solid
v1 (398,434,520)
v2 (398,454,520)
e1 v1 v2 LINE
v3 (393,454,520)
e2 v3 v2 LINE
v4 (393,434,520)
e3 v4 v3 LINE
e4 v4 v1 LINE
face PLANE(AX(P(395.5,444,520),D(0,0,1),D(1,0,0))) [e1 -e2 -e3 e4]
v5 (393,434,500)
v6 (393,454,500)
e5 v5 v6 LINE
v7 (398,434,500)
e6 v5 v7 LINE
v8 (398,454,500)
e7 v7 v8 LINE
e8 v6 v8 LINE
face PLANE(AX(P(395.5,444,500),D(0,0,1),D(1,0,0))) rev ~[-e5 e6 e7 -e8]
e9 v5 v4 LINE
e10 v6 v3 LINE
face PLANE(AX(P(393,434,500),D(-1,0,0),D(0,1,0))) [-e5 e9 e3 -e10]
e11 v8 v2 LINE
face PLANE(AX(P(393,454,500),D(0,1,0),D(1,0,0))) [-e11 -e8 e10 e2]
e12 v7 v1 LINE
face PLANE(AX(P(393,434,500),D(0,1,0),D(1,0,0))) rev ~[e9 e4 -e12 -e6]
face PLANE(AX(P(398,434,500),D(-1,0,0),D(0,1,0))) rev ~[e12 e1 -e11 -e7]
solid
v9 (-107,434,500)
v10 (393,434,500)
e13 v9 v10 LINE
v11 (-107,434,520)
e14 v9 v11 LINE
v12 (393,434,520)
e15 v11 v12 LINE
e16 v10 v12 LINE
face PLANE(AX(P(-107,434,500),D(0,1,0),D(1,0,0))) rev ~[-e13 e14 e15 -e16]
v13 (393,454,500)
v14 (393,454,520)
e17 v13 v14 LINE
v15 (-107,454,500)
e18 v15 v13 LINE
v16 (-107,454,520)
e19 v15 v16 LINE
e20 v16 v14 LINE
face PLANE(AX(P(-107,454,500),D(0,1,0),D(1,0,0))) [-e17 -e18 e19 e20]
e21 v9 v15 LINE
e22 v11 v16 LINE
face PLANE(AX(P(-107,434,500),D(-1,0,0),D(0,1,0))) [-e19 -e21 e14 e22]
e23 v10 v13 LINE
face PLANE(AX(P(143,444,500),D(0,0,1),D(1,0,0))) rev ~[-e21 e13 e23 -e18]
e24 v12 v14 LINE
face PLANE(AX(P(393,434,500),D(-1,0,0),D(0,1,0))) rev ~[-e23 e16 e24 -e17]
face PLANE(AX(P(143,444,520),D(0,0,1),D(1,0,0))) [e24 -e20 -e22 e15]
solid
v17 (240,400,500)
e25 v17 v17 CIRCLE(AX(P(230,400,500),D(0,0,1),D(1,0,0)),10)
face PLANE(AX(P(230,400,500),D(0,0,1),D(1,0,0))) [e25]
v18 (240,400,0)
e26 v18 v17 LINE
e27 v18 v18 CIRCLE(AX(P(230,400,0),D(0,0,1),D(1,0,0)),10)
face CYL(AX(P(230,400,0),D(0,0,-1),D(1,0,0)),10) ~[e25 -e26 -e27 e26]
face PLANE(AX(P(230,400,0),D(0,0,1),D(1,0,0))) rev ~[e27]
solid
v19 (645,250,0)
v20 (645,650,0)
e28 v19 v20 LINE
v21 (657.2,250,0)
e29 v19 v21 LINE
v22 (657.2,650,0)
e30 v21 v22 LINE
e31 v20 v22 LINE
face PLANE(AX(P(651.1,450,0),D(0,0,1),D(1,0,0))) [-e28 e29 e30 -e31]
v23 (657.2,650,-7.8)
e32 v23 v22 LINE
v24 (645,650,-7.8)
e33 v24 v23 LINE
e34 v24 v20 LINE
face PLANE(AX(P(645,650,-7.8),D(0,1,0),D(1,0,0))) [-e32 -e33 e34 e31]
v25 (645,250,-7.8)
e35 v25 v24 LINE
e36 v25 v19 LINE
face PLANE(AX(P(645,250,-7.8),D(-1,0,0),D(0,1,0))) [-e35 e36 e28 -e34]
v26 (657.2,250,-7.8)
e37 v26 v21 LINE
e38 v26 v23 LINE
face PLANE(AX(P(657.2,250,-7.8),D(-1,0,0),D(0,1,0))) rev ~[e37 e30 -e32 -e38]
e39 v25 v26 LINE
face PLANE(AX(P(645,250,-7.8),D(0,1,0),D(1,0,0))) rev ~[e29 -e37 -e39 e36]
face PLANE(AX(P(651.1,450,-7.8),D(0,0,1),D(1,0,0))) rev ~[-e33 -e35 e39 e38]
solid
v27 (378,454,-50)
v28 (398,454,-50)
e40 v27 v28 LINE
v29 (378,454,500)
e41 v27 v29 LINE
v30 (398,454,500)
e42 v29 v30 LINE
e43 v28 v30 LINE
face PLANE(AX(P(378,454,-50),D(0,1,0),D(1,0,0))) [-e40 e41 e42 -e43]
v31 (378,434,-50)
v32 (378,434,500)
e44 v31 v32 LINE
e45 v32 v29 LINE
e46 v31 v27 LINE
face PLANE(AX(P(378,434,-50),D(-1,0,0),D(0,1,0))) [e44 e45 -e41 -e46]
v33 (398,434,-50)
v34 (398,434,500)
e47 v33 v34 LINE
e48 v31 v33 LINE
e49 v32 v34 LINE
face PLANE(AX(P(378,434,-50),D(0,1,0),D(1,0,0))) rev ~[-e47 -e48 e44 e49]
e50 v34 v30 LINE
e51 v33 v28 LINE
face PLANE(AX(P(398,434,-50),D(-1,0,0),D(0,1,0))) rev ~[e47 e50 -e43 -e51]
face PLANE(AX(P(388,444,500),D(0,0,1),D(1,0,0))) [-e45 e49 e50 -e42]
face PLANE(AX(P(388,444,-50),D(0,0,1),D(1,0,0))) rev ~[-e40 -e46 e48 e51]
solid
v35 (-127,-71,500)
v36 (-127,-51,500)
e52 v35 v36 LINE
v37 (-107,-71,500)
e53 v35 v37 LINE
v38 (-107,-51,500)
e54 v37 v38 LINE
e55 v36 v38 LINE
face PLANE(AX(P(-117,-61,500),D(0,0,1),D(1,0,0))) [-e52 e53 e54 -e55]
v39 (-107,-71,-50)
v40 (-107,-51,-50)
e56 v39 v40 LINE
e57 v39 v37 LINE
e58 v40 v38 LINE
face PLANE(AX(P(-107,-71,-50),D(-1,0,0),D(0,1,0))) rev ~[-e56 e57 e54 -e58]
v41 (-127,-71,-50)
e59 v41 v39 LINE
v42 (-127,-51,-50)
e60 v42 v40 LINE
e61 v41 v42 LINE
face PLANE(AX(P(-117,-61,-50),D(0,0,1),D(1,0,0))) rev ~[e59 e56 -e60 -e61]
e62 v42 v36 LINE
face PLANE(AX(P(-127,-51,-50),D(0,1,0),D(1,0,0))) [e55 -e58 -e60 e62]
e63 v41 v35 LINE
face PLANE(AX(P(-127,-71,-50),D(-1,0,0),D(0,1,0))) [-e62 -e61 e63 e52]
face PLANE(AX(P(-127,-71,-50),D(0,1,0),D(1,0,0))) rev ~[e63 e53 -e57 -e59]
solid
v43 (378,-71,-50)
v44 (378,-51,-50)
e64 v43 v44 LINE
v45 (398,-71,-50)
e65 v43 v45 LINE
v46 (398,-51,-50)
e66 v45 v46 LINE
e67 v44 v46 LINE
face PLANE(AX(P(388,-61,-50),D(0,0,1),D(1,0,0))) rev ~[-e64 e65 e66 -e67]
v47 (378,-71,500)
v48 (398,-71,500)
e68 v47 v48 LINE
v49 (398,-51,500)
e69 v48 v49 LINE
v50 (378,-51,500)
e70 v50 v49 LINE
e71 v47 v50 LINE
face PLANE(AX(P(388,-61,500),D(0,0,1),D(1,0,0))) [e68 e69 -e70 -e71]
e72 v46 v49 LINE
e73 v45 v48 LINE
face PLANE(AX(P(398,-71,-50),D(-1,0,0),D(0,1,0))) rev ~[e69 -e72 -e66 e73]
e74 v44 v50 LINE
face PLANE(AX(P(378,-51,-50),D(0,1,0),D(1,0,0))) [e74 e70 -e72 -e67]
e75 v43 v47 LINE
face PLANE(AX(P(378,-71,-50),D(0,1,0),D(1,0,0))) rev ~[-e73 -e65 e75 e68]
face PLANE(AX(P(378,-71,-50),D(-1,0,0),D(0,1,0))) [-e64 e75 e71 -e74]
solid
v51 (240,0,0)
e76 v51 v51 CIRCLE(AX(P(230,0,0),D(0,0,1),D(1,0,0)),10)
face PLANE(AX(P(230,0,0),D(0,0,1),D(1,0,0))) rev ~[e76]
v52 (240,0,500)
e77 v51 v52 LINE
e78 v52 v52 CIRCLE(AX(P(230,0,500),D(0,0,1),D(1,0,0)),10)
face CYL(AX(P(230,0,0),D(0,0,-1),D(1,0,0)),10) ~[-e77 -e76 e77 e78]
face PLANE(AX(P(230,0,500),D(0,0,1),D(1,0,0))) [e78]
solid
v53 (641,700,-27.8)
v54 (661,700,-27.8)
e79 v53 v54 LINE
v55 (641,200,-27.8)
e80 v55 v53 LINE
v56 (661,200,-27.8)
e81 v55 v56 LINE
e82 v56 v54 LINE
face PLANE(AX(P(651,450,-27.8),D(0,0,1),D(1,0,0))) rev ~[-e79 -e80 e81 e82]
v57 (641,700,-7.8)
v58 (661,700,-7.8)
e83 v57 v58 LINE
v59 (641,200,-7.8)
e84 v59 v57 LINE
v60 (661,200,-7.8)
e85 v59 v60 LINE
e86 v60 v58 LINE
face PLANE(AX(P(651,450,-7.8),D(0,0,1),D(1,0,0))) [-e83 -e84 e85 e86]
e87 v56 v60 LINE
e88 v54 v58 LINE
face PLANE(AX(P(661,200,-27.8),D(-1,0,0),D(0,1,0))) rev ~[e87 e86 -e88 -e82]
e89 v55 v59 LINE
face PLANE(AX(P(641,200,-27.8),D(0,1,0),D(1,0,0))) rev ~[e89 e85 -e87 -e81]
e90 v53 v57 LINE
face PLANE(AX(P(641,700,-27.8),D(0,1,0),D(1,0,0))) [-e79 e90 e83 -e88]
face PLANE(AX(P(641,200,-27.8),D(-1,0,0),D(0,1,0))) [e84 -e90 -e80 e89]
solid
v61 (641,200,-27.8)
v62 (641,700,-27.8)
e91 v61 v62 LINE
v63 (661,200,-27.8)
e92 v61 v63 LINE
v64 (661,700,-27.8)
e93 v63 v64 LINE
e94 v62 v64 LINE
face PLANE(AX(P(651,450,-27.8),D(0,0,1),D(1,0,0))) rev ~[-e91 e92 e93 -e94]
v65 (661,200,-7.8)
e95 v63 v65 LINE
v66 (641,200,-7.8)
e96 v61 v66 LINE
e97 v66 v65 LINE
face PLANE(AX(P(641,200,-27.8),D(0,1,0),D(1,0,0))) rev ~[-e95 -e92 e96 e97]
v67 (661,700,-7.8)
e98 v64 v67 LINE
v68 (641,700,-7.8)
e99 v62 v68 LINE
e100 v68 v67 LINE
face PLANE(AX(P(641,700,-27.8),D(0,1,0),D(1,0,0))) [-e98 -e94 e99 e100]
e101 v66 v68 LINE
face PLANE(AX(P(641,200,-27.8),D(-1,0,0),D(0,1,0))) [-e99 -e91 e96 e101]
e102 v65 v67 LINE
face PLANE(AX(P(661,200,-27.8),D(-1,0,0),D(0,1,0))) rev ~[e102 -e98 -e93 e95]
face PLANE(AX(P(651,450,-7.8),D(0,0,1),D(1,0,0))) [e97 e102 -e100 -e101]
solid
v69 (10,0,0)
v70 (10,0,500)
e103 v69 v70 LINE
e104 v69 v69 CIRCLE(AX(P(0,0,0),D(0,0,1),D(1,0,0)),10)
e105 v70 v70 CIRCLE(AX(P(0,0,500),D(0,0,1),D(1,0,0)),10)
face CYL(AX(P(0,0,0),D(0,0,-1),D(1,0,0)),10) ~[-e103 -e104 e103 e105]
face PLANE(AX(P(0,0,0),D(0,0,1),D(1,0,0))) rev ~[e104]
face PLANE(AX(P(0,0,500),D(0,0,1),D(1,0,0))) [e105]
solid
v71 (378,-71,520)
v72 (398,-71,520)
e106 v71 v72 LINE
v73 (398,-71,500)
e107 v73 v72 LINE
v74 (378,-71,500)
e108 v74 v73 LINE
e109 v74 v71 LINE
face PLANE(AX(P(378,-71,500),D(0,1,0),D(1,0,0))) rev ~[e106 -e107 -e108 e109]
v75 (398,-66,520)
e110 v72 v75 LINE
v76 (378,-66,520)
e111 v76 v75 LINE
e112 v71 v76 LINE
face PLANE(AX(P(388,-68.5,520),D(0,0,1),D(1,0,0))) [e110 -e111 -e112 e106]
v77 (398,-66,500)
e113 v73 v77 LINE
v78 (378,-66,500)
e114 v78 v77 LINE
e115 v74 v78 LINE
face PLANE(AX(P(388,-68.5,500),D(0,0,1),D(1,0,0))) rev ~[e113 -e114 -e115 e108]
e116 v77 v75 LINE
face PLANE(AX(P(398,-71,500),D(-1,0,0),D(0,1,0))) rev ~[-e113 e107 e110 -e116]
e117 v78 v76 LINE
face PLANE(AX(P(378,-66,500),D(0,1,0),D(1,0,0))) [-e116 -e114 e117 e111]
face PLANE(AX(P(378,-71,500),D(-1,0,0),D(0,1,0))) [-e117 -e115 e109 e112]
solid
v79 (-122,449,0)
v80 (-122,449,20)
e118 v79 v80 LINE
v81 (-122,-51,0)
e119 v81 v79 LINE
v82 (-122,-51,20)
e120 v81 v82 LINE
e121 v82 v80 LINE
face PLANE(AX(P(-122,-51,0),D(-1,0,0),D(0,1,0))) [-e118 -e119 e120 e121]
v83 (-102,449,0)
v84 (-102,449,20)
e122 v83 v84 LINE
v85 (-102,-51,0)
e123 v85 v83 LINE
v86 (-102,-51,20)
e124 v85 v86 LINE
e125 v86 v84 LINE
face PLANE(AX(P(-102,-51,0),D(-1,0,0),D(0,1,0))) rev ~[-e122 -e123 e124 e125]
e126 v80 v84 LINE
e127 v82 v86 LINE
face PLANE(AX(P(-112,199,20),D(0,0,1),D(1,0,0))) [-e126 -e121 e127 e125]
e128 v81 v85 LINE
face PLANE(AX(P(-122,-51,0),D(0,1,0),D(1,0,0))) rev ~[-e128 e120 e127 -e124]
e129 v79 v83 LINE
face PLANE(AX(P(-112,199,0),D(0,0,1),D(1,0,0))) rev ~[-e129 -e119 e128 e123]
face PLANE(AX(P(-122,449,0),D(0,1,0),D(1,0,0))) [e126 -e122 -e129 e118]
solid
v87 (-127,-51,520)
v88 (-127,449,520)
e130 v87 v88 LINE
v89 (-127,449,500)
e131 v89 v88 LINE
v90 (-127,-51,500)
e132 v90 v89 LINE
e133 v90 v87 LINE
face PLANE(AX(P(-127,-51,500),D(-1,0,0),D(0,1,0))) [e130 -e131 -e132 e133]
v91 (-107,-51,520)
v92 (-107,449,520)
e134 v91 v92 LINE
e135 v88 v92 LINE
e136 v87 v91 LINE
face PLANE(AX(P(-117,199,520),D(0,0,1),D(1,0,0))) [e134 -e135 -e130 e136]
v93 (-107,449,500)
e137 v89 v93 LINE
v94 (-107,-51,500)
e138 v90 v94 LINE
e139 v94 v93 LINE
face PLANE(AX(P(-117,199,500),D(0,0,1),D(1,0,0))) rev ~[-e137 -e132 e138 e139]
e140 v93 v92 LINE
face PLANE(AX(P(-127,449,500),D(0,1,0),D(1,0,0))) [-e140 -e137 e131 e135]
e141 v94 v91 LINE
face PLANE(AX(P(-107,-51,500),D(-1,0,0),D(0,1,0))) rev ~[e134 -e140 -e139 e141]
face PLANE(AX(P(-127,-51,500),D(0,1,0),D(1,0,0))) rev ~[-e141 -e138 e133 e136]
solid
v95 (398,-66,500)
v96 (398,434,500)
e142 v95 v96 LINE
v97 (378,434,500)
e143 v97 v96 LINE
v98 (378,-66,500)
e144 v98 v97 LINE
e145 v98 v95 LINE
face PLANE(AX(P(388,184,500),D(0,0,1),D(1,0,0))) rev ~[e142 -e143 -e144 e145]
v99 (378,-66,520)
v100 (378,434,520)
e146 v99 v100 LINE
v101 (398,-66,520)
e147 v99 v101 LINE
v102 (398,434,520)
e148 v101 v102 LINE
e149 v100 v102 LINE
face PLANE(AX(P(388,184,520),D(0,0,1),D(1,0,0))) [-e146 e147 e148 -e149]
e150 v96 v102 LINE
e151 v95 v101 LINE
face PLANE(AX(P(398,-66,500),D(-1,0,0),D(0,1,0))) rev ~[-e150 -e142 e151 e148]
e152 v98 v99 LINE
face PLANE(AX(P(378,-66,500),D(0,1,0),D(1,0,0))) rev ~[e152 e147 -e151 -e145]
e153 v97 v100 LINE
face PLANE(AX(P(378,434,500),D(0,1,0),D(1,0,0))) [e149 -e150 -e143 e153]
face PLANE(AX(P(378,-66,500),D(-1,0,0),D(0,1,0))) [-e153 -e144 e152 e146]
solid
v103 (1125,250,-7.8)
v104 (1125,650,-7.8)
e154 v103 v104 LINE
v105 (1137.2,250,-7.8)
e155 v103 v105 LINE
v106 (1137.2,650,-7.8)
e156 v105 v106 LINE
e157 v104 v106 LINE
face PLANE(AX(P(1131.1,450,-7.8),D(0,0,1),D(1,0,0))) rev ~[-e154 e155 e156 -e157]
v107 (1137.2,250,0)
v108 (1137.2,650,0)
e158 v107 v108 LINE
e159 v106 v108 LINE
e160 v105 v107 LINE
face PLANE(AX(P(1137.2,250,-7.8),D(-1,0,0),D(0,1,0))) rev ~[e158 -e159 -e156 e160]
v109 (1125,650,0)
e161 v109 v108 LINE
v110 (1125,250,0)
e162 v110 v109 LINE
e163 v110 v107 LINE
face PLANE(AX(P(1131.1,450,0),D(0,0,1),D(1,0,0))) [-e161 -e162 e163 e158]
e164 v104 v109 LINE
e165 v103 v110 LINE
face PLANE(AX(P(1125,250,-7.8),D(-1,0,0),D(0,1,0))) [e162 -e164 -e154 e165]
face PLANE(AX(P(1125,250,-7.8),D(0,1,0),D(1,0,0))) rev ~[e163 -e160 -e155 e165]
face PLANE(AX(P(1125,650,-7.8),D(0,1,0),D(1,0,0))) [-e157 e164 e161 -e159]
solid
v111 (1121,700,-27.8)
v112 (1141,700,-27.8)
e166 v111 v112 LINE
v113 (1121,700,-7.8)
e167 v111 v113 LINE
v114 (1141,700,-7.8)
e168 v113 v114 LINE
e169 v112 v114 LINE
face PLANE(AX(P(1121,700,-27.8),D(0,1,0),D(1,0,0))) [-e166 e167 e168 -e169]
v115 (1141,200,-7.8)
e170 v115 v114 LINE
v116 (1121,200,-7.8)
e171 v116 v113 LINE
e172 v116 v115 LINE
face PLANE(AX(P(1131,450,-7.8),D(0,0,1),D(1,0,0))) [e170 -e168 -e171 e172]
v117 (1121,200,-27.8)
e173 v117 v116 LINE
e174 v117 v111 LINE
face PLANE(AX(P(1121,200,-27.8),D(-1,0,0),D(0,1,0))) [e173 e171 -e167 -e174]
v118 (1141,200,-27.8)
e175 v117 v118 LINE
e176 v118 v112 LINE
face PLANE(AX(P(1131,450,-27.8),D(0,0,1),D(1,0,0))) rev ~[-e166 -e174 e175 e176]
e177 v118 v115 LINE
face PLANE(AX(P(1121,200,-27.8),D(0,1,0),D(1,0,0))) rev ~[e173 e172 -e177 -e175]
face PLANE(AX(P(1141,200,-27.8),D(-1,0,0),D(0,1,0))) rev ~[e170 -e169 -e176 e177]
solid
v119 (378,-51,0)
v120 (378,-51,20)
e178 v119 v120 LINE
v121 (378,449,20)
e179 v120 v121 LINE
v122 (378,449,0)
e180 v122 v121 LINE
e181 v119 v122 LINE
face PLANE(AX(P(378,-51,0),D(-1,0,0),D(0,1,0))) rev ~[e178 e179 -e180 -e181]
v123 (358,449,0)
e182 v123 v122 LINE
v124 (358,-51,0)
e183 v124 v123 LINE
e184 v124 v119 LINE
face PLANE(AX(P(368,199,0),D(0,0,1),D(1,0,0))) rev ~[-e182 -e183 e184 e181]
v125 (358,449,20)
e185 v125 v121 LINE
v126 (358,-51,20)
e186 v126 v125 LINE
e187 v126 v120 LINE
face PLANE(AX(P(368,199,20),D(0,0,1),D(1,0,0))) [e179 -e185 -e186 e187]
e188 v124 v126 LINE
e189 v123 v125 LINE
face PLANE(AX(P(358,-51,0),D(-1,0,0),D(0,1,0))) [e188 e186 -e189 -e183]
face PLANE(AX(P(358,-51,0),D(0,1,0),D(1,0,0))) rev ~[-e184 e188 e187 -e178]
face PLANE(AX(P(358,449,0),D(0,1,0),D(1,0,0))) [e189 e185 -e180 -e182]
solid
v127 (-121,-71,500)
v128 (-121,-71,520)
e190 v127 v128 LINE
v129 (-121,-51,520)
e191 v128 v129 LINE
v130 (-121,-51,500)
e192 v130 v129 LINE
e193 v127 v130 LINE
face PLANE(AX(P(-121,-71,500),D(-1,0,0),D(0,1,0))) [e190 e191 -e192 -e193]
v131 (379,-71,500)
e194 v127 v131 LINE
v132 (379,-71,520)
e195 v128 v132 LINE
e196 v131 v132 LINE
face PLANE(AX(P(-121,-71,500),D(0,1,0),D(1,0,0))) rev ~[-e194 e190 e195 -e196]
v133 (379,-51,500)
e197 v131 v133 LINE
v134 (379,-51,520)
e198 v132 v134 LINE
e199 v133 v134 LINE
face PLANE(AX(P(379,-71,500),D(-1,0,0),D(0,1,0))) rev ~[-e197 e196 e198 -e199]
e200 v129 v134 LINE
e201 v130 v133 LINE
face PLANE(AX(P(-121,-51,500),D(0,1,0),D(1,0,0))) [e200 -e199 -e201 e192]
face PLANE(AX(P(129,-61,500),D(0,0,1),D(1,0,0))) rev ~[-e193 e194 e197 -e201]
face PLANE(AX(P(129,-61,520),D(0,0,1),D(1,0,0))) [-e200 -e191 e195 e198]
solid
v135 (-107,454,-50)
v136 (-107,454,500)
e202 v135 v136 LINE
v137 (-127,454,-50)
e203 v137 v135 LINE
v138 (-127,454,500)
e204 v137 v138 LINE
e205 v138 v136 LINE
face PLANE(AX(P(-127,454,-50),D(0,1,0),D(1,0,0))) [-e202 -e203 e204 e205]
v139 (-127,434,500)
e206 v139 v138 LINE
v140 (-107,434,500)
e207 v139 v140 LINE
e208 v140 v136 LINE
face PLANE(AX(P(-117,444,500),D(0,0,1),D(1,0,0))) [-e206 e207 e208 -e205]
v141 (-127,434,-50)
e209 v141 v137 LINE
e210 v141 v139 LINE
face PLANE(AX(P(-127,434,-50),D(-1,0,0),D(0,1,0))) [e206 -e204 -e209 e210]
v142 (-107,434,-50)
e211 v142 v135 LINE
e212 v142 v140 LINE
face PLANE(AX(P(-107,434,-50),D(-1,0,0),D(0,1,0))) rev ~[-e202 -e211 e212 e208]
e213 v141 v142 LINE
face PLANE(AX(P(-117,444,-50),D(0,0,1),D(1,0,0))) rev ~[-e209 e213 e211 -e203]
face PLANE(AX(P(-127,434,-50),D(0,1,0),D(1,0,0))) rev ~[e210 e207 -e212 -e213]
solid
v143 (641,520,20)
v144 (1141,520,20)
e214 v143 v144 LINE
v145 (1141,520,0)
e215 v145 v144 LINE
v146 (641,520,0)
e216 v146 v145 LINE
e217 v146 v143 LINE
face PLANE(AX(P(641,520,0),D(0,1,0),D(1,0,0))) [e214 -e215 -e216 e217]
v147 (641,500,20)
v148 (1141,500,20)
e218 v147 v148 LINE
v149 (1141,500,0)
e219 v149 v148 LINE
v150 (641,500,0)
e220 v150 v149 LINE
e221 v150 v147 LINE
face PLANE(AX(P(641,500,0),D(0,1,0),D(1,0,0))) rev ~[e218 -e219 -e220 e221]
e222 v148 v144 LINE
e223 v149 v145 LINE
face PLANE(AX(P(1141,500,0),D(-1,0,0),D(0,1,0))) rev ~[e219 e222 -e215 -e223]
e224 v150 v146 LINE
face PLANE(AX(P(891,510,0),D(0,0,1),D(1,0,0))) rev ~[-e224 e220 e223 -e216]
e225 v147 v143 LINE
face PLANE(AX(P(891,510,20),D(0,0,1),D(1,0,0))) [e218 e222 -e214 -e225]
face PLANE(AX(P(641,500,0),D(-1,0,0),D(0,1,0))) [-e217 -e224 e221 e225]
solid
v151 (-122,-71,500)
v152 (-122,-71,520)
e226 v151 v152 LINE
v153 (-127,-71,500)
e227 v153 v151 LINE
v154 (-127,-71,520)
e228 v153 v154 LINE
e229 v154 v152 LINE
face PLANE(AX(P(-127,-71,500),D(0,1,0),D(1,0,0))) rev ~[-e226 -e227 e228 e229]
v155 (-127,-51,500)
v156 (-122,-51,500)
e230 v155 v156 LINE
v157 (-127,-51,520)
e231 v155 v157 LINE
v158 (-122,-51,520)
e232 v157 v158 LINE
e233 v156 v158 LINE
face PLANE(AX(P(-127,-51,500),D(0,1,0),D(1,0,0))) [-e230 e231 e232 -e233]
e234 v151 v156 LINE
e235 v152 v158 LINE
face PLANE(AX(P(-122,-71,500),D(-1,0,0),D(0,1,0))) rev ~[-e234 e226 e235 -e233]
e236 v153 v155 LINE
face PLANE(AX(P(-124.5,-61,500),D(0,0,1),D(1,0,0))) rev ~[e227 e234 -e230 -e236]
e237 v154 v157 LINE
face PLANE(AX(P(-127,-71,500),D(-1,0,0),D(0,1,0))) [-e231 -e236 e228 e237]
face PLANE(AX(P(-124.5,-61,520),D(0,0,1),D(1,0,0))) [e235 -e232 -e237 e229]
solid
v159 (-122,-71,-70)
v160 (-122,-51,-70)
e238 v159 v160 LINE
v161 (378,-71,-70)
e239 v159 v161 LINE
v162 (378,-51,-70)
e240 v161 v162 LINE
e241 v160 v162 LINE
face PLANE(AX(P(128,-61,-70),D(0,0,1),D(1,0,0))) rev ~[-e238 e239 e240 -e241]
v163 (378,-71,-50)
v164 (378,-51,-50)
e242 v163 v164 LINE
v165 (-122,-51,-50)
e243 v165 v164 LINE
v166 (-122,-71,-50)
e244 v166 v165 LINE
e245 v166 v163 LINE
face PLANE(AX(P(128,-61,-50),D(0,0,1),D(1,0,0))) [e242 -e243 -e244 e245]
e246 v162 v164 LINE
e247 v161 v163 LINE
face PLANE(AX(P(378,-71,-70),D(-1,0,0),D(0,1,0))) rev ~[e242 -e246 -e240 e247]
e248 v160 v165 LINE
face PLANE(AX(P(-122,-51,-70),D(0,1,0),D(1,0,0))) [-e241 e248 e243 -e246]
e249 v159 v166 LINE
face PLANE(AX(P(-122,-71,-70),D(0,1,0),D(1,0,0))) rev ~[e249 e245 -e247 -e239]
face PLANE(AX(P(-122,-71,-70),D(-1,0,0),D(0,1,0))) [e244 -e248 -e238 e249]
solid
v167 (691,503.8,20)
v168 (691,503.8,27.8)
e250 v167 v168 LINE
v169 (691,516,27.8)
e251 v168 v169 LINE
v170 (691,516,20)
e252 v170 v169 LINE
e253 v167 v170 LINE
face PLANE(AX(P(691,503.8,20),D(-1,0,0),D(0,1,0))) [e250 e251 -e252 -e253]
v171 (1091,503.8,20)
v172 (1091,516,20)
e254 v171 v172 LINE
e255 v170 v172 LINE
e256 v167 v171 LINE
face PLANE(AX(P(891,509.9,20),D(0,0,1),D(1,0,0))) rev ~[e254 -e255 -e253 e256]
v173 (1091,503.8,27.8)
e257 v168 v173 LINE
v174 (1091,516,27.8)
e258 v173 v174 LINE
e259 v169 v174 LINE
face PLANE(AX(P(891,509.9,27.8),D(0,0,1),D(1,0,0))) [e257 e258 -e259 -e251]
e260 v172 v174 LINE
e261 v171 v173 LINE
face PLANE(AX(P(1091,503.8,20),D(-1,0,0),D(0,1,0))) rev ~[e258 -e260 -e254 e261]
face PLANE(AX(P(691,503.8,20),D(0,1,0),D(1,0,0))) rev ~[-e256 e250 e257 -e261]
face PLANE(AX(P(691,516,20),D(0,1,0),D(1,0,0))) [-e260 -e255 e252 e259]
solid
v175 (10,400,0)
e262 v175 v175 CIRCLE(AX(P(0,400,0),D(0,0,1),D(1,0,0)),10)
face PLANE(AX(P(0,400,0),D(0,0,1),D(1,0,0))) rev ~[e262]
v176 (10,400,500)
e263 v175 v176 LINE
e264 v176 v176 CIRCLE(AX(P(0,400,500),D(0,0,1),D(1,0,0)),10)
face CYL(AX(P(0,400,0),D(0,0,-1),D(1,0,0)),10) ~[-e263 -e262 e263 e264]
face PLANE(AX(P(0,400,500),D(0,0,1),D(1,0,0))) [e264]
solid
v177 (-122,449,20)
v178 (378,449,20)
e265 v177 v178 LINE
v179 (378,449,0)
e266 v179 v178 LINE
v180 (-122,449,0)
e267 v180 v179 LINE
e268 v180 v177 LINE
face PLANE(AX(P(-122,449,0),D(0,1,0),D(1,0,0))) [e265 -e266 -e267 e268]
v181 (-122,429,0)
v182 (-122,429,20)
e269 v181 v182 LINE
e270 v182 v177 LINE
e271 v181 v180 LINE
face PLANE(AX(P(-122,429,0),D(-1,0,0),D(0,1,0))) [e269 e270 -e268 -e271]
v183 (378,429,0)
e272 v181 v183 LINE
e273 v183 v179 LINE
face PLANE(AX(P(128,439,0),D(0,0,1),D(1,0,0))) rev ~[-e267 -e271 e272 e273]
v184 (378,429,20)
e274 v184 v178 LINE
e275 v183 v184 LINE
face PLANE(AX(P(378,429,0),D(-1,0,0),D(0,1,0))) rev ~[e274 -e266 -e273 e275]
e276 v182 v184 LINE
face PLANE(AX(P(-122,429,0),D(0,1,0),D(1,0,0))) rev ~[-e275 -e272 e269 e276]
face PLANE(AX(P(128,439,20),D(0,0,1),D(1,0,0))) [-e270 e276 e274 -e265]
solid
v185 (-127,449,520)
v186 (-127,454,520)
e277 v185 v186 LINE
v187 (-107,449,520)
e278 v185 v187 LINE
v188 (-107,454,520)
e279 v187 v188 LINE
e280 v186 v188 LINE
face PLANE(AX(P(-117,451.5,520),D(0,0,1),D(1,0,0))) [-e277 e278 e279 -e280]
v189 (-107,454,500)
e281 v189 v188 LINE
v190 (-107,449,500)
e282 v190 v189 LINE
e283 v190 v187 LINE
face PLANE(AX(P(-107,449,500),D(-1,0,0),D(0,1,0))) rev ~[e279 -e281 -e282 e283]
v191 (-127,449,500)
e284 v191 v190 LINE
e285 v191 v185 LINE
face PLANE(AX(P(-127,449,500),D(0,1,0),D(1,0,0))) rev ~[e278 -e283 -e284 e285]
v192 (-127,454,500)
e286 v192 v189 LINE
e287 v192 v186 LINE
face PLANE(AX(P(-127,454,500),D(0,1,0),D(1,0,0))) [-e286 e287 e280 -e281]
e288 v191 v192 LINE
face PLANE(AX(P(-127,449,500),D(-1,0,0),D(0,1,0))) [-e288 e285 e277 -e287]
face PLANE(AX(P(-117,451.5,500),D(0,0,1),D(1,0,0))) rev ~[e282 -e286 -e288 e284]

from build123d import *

# Parameters (mm, degrees)
CYLINDER_R        = 10
CYLINDER_DEPTH    = 500
CYLINDER001_R     = 10
CYLINDER001_DEPTH = 500
CYLINDER002_R     = 10
CYLINDER002_DEPTH = 500
CYLINDER003_R     = 10
CYLINDER003_DEPTH = 500
BOX_W             = 20
BOX_H             = 20
BOX_DEPTH         = 550
BOX001_W          = 500
BOX001_H          = 20
BOX001_DEPTH      = 20
BOX002_W          = 500
BOX002_H          = 20
BOX002_DEPTH      = 20
BOX003_W          = 20
BOX003_H          = 500
BOX003_DEPTH      = 20
BOX004_W          = 20
BOX004_H          = 500
BOX004_DEPTH      = 20
BOX005_W          = 20
BOX005_H          = 20
BOX005_DEPTH      = 550
BOX006_W          = 20
BOX006_H          = 20
BOX006_DEPTH      = 550
BOX007_W          = 20
BOX007_H          = 20
BOX007_DEPTH      = 550
BOX008_W          = 500
BOX008_H          = 20
BOX008_DEPTH      = 20
BOX009_W          = 500
BOX009_H          = 20
BOX009_DEPTH      = 20
BOX010_W          = 20
BOX010_H          = 500
BOX010_DEPTH      = 20
BOX011_W          = 20
BOX011_H          = 5
BOX011_DEPTH      = 20
BOX012_W          = 20
BOX012_H          = 500
BOX012_DEPTH      = 20
BOX013_W          = 20
BOX013_H          = 5
BOX013_DEPTH      = 20
BOX014_W          = 5
BOX014_H          = 20
BOX014_DEPTH      = 20
BOX015_W          = 5
BOX015_H          = 20
BOX015_DEPTH      = 20
BOX016_W          = 20
BOX016_H          = 500
BOX016_DEPTH      = 20
BOX017_W          = 20
BOX017_H          = 500
BOX017_DEPTH      = 20
BOX018_W          = 500
BOX018_H          = 20
BOX018_DEPTH      = 20
BOX019_W          = 400
BOX019_H          = 12.2
BOX019_DEPTH      = 7.8
BOX020_W          = 12.2
BOX020_H          = 400
BOX020_DEPTH      = 7.8
BOX021_W          = 12.2
BOX021_H          = 400
BOX021_DEPTH      = 7.8
BOX022_W          = 20
BOX022_H          = 500
BOX022_DEPTH      = 20


with BuildPart() as eixo_guia_frontal_direita:
    # Cylinder → Cylinder (new body)
    with BuildSketch(Plane(origin=(230, 0, 0), x_dir=(1, 0, 0), z_dir=(0, 0, 1))):
        Circle(CYLINDER_R)
    extrude(amount=CYLINDER_DEPTH)


with BuildPart() as eixo_guia_traseiro_direito:
    # Cylinder001 → Cylinder001 (new body)
    with BuildSketch(Plane(origin=(230, 400, 0), x_dir=(1, 0, 0), z_dir=(0, 0, 1))):
        Circle(CYLINDER001_R)
    extrude(amount=CYLINDER001_DEPTH)


with BuildPart() as eixo_guia_traseiro_esquerdo:
    # Cylinder002 → Cylinder002 (new body)
    with BuildSketch(Plane(origin=(0, 400, 0), x_dir=(1, 0, 0), z_dir=(0, 0, 1))):
        Circle(CYLINDER002_R)
    extrude(amount=CYLINDER002_DEPTH)


with BuildPart() as eixo_guia_frontal_esquerdo:
    # Cylinder003 → Cylinder003 (new body)
    with BuildSketch(Plane.XY):
        Circle(CYLINDER003_R)
    extrude(amount=CYLINDER003_DEPTH)


with BuildPart() as vslot_base_frontal_esquerda:
    # Box → Box (new body)
    with BuildSketch(Plane(origin=(-127, -71, -50), x_dir=(1, 0, 0), z_dir=(0, 0, 1))):
        with Locations((10, 10)):
            Rectangle(BOX_W, BOX_H)
    extrude(amount=BOX_DEPTH)


with BuildPart() as vslot_base_inferior_frontal:
    # Box001 → Box001 (new body)
    with BuildSketch(Plane(origin=(-122, -71, -70), x_dir=(1, 0, 0), z_dir=(0, 0, 1))):
        with Locations((250, 10)):
            Rectangle(BOX001_W, BOX001_H)
    extrude(amount=BOX001_DEPTH)


with BuildPart() as vslot_base_inferior_traseira:
    # Box002 → Box002 (new body)
    with BuildSketch(Plane(origin=(-122, 429, 0), x_dir=(1, 0, 0), z_dir=(0, 0, 1))):
        with Locations((250, 10)):
            Rectangle(BOX002_W, BOX002_H)
    extrude(amount=BOX002_DEPTH)


with BuildPart() as vslot_base_inferior_esquerda:
    # Box003 → Box003 (new body)
    with BuildSketch(Plane(origin=(-122, -51, 0), x_dir=(1, 0, 0), z_dir=(0, 0, 1))):
        with Locations((10, 250)):
            Rectangle(BOX003_W, BOX003_H)
    extrude(amount=BOX003_DEPTH)


with BuildPart() as vslot_base_inferior_direita:
    # Box004 → Box004 (new body)
    with BuildSketch(Plane(origin=(358, -51, 0), x_dir=(1, 0, 0), z_dir=(0, 0, 1))):
        with Locations((10, 250)):
            Rectangle(BOX004_W, BOX004_H)
    extrude(amount=BOX004_DEPTH)


with BuildPart() as vslot_base_frontal_direita:
    # Box005 → Box005 (new body)
    with BuildSketch(Plane(origin=(378, -71, -50), x_dir=(1, 0, 0), z_dir=(0, 0, 1))):
        with Locations((10, 10)):
            Rectangle(BOX005_W, BOX005_H)
    extrude(amount=BOX005_DEPTH)


with BuildPart() as vslot_base_traseira_direita:
    # Box006 → Box006 (new body)
    with BuildSketch(Plane(origin=(378, 434, -50), x_dir=(1, 0, 0), z_dir=(0, 0, 1))):
        with Locations((10, 10)):
            Rectangle(BOX006_W, BOX006_H)
    extrude(amount=BOX006_DEPTH)


with BuildPart() as vslot_base_traseira_esquerda:
    # Box007 → Box007 (new body)
    with BuildSketch(Plane(origin=(-127, 434, -50), x_dir=(1, 0, 0), z_dir=(0, 0, 1))):
        with Locations((10, 10)):
            Rectangle(BOX007_W, BOX007_H)
    extrude(amount=BOX007_DEPTH)


with BuildPart() as vslot_base_superior_frontal:
    # Box008 → Box008 (new body)
    with BuildSketch(Plane(origin=(-121, -71, 500), x_dir=(1, 0, 0), z_dir=(0, 0, 1))):
        with Locations((250, 10)):
            Rectangle(BOX008_W, BOX008_H)
    extrude(amount=BOX008_DEPTH)


with BuildPart() as vslot_base_superior_traseira:
    # Box009 → Box009 (new body)
    with BuildSketch(Plane(origin=(-107, 434, 500), x_dir=(1, 0, 0), z_dir=(0, 0, 1))):
        with Locations((250, 10)):
            Rectangle(BOX009_W, BOX009_H)
    extrude(amount=BOX009_DEPTH)


with BuildPart() as vslot_base_superior_direita:
    # Box010 → Box010 (new body)
    with BuildSketch(Plane(origin=(378, -66, 500), x_dir=(1, 0, 0), z_dir=(0, 0, 1))):
        with Locations((10, 250)):
            Rectangle(BOX010_W, BOX010_H)
    extrude(amount=BOX010_DEPTH)


with BuildPart() as cantoneira001:
    # Box011 → Box011 (new body)
    with BuildSketch(Plane(origin=(-127, 449, 500), x_dir=(1, 0, 0), z_dir=(0, 0, 1))):
        with Locations((10, 2.5)):
            Rectangle(BOX011_W, BOX011_H)
    extrude(amount=BOX011_DEPTH)


with BuildPart() as vslot_base_superior_esquerda:
    # Box012 → Box012 (new body)
    with BuildSketch(Plane(origin=(-127, -51, 500), x_dir=(1, 0, 0), z_dir=(0, 0, 1))):
        with Locations((10, 250)):
            Rectangle(BOX012_W, BOX012_H)
    extrude(amount=BOX012_DEPTH)


with BuildPart() as cantoneira004:
    # Box013 → Box013 (new body)
    with BuildSketch(Plane(origin=(378, -71, 500), x_dir=(1, 0, 0), z_dir=(0, 0, 1))):
        with Locations((10, 2.5)):
            Rectangle(BOX013_W, BOX013_H)
    extrude(amount=BOX013_DEPTH)


with BuildPart() as cantoneira002:
    # Box014 → Box014 (new body)
    with BuildSketch(Plane(origin=(393, 434, 500), x_dir=(1, 0, 0), z_dir=(0, 0, 1))):
        with Locations((2.5, 10)):
            Rectangle(BOX014_W, BOX014_H)
    extrude(amount=BOX014_DEPTH)


with BuildPart() as cantoneira003:
    # Box015 → Box015 (new body)
    with BuildSketch(Plane(origin=(-127, -71, 500), x_dir=(1, 0, 0), z_dir=(0, 0, 1))):
        with Locations((2.5, 10)):
            Rectangle(BOX015_W, BOX015_H)
    extrude(amount=BOX015_DEPTH)


with BuildPart() as vslot_y_esquerdo:
    # Box016 → Box016 (new body)
    with BuildSketch(Plane(origin=(641, 200, -27.8), x_dir=(1, 0, 0), z_dir=(0, 0, 1))):
        with Locations((10, 250)):
            Rectangle(BOX016_W, BOX016_H)
    extrude(amount=BOX016_DEPTH)


with BuildPart() as vslot_y_direito:
    # Box017 → Box017 (new body)
    with BuildSketch(Plane(origin=(1121, 200, -27.8), x_dir=(1, 0, 0), z_dir=(0, 0, 1))):
        with Locations((10, 250)):
            Rectangle(BOX017_W, BOX017_H)
    extrude(amount=BOX017_DEPTH)


with BuildPart() as vslot_x:
    # Box018 → Box018 (new body)
    with BuildSketch(Plane(origin=(641, 500, 0), x_dir=(1, 0, 0), z_dir=(0, 0, 1))):
        with Locations((250, 10)):
            Rectangle(BOX018_W, BOX018_H)
    extrude(amount=BOX018_DEPTH)


with BuildPart() as rail_x_superior:
    # Box019 → Box019 (new body)
    with BuildSketch(Plane(origin=(691, 503.8, 20), x_dir=(1, 0, 0), z_dir=(0, 0, 1))):
        with Locations((200, 6.1)):
            Rectangle(BOX019_W, BOX019_H)
    extrude(amount=BOX019_DEPTH)


with BuildPart() as rail_y_esquerdo:
    # Box020 → Box020 (new body)
    with BuildSketch(Plane(origin=(645, 250, -7.8), x_dir=(1, 0, 0), z_dir=(0, 0, 1))):
        with Locations((6.1, 200)):
            Rectangle(BOX020_W, BOX020_H)
    extrude(amount=BOX020_DEPTH)


with BuildPart() as rail_y_direito:
    # Box021 → Box021 (new body)
    with BuildSketch(Plane(origin=(1125, 250, -7.8), x_dir=(1, 0, 0), z_dir=(0, 0, 1))):
        with Locations((6.1, 200)):
            Rectangle(BOX021_W, BOX021_H)
    extrude(amount=BOX021_DEPTH)


with BuildPart() as vslot_y_esquerdo001:
    # Box022 → Box022 (new body)
    with BuildSketch(Plane(origin=(641, 200, -27.8), x_dir=(1, 0, 0), z_dir=(0, 0, 1))):
        with Locations((10, 250)):
            Rectangle(BOX022_W, BOX022_H)
    extrude(amount=BOX022_DEPTH)


solid = Compound([eixo_guia_frontal_direita.part, eixo_guia_traseiro_direito.part, eixo_guia_traseiro_esquerdo.part, eixo_guia_frontal_esquerdo.part, vslot_base_frontal_esquerda.part, vslot_base_inferior_frontal.part, vslot_base_inferior_traseira.part, vslot_base_inferior_esquerda.part, vslot_base_inferior_direita.part, vslot_base_frontal_direita.part, vslot_base_traseira_direita.part, vslot_base_traseira_esquerda.part, vslot_base_superior_frontal.part, vslot_base_superior_traseira.part, vslot_base_superior_direita.part, cantoneira001.part, vslot_base_superior_esquerda.part, cantoneira004.part, cantoneira002.part, cantoneira003.part, vslot_y_esquerdo.part, vslot_y_direito.part, vslot_x.part, rail_x_superior.part, rail_y_esquerdo.part, rail_y_direito.part, vslot_y_esquerdo001.part])
